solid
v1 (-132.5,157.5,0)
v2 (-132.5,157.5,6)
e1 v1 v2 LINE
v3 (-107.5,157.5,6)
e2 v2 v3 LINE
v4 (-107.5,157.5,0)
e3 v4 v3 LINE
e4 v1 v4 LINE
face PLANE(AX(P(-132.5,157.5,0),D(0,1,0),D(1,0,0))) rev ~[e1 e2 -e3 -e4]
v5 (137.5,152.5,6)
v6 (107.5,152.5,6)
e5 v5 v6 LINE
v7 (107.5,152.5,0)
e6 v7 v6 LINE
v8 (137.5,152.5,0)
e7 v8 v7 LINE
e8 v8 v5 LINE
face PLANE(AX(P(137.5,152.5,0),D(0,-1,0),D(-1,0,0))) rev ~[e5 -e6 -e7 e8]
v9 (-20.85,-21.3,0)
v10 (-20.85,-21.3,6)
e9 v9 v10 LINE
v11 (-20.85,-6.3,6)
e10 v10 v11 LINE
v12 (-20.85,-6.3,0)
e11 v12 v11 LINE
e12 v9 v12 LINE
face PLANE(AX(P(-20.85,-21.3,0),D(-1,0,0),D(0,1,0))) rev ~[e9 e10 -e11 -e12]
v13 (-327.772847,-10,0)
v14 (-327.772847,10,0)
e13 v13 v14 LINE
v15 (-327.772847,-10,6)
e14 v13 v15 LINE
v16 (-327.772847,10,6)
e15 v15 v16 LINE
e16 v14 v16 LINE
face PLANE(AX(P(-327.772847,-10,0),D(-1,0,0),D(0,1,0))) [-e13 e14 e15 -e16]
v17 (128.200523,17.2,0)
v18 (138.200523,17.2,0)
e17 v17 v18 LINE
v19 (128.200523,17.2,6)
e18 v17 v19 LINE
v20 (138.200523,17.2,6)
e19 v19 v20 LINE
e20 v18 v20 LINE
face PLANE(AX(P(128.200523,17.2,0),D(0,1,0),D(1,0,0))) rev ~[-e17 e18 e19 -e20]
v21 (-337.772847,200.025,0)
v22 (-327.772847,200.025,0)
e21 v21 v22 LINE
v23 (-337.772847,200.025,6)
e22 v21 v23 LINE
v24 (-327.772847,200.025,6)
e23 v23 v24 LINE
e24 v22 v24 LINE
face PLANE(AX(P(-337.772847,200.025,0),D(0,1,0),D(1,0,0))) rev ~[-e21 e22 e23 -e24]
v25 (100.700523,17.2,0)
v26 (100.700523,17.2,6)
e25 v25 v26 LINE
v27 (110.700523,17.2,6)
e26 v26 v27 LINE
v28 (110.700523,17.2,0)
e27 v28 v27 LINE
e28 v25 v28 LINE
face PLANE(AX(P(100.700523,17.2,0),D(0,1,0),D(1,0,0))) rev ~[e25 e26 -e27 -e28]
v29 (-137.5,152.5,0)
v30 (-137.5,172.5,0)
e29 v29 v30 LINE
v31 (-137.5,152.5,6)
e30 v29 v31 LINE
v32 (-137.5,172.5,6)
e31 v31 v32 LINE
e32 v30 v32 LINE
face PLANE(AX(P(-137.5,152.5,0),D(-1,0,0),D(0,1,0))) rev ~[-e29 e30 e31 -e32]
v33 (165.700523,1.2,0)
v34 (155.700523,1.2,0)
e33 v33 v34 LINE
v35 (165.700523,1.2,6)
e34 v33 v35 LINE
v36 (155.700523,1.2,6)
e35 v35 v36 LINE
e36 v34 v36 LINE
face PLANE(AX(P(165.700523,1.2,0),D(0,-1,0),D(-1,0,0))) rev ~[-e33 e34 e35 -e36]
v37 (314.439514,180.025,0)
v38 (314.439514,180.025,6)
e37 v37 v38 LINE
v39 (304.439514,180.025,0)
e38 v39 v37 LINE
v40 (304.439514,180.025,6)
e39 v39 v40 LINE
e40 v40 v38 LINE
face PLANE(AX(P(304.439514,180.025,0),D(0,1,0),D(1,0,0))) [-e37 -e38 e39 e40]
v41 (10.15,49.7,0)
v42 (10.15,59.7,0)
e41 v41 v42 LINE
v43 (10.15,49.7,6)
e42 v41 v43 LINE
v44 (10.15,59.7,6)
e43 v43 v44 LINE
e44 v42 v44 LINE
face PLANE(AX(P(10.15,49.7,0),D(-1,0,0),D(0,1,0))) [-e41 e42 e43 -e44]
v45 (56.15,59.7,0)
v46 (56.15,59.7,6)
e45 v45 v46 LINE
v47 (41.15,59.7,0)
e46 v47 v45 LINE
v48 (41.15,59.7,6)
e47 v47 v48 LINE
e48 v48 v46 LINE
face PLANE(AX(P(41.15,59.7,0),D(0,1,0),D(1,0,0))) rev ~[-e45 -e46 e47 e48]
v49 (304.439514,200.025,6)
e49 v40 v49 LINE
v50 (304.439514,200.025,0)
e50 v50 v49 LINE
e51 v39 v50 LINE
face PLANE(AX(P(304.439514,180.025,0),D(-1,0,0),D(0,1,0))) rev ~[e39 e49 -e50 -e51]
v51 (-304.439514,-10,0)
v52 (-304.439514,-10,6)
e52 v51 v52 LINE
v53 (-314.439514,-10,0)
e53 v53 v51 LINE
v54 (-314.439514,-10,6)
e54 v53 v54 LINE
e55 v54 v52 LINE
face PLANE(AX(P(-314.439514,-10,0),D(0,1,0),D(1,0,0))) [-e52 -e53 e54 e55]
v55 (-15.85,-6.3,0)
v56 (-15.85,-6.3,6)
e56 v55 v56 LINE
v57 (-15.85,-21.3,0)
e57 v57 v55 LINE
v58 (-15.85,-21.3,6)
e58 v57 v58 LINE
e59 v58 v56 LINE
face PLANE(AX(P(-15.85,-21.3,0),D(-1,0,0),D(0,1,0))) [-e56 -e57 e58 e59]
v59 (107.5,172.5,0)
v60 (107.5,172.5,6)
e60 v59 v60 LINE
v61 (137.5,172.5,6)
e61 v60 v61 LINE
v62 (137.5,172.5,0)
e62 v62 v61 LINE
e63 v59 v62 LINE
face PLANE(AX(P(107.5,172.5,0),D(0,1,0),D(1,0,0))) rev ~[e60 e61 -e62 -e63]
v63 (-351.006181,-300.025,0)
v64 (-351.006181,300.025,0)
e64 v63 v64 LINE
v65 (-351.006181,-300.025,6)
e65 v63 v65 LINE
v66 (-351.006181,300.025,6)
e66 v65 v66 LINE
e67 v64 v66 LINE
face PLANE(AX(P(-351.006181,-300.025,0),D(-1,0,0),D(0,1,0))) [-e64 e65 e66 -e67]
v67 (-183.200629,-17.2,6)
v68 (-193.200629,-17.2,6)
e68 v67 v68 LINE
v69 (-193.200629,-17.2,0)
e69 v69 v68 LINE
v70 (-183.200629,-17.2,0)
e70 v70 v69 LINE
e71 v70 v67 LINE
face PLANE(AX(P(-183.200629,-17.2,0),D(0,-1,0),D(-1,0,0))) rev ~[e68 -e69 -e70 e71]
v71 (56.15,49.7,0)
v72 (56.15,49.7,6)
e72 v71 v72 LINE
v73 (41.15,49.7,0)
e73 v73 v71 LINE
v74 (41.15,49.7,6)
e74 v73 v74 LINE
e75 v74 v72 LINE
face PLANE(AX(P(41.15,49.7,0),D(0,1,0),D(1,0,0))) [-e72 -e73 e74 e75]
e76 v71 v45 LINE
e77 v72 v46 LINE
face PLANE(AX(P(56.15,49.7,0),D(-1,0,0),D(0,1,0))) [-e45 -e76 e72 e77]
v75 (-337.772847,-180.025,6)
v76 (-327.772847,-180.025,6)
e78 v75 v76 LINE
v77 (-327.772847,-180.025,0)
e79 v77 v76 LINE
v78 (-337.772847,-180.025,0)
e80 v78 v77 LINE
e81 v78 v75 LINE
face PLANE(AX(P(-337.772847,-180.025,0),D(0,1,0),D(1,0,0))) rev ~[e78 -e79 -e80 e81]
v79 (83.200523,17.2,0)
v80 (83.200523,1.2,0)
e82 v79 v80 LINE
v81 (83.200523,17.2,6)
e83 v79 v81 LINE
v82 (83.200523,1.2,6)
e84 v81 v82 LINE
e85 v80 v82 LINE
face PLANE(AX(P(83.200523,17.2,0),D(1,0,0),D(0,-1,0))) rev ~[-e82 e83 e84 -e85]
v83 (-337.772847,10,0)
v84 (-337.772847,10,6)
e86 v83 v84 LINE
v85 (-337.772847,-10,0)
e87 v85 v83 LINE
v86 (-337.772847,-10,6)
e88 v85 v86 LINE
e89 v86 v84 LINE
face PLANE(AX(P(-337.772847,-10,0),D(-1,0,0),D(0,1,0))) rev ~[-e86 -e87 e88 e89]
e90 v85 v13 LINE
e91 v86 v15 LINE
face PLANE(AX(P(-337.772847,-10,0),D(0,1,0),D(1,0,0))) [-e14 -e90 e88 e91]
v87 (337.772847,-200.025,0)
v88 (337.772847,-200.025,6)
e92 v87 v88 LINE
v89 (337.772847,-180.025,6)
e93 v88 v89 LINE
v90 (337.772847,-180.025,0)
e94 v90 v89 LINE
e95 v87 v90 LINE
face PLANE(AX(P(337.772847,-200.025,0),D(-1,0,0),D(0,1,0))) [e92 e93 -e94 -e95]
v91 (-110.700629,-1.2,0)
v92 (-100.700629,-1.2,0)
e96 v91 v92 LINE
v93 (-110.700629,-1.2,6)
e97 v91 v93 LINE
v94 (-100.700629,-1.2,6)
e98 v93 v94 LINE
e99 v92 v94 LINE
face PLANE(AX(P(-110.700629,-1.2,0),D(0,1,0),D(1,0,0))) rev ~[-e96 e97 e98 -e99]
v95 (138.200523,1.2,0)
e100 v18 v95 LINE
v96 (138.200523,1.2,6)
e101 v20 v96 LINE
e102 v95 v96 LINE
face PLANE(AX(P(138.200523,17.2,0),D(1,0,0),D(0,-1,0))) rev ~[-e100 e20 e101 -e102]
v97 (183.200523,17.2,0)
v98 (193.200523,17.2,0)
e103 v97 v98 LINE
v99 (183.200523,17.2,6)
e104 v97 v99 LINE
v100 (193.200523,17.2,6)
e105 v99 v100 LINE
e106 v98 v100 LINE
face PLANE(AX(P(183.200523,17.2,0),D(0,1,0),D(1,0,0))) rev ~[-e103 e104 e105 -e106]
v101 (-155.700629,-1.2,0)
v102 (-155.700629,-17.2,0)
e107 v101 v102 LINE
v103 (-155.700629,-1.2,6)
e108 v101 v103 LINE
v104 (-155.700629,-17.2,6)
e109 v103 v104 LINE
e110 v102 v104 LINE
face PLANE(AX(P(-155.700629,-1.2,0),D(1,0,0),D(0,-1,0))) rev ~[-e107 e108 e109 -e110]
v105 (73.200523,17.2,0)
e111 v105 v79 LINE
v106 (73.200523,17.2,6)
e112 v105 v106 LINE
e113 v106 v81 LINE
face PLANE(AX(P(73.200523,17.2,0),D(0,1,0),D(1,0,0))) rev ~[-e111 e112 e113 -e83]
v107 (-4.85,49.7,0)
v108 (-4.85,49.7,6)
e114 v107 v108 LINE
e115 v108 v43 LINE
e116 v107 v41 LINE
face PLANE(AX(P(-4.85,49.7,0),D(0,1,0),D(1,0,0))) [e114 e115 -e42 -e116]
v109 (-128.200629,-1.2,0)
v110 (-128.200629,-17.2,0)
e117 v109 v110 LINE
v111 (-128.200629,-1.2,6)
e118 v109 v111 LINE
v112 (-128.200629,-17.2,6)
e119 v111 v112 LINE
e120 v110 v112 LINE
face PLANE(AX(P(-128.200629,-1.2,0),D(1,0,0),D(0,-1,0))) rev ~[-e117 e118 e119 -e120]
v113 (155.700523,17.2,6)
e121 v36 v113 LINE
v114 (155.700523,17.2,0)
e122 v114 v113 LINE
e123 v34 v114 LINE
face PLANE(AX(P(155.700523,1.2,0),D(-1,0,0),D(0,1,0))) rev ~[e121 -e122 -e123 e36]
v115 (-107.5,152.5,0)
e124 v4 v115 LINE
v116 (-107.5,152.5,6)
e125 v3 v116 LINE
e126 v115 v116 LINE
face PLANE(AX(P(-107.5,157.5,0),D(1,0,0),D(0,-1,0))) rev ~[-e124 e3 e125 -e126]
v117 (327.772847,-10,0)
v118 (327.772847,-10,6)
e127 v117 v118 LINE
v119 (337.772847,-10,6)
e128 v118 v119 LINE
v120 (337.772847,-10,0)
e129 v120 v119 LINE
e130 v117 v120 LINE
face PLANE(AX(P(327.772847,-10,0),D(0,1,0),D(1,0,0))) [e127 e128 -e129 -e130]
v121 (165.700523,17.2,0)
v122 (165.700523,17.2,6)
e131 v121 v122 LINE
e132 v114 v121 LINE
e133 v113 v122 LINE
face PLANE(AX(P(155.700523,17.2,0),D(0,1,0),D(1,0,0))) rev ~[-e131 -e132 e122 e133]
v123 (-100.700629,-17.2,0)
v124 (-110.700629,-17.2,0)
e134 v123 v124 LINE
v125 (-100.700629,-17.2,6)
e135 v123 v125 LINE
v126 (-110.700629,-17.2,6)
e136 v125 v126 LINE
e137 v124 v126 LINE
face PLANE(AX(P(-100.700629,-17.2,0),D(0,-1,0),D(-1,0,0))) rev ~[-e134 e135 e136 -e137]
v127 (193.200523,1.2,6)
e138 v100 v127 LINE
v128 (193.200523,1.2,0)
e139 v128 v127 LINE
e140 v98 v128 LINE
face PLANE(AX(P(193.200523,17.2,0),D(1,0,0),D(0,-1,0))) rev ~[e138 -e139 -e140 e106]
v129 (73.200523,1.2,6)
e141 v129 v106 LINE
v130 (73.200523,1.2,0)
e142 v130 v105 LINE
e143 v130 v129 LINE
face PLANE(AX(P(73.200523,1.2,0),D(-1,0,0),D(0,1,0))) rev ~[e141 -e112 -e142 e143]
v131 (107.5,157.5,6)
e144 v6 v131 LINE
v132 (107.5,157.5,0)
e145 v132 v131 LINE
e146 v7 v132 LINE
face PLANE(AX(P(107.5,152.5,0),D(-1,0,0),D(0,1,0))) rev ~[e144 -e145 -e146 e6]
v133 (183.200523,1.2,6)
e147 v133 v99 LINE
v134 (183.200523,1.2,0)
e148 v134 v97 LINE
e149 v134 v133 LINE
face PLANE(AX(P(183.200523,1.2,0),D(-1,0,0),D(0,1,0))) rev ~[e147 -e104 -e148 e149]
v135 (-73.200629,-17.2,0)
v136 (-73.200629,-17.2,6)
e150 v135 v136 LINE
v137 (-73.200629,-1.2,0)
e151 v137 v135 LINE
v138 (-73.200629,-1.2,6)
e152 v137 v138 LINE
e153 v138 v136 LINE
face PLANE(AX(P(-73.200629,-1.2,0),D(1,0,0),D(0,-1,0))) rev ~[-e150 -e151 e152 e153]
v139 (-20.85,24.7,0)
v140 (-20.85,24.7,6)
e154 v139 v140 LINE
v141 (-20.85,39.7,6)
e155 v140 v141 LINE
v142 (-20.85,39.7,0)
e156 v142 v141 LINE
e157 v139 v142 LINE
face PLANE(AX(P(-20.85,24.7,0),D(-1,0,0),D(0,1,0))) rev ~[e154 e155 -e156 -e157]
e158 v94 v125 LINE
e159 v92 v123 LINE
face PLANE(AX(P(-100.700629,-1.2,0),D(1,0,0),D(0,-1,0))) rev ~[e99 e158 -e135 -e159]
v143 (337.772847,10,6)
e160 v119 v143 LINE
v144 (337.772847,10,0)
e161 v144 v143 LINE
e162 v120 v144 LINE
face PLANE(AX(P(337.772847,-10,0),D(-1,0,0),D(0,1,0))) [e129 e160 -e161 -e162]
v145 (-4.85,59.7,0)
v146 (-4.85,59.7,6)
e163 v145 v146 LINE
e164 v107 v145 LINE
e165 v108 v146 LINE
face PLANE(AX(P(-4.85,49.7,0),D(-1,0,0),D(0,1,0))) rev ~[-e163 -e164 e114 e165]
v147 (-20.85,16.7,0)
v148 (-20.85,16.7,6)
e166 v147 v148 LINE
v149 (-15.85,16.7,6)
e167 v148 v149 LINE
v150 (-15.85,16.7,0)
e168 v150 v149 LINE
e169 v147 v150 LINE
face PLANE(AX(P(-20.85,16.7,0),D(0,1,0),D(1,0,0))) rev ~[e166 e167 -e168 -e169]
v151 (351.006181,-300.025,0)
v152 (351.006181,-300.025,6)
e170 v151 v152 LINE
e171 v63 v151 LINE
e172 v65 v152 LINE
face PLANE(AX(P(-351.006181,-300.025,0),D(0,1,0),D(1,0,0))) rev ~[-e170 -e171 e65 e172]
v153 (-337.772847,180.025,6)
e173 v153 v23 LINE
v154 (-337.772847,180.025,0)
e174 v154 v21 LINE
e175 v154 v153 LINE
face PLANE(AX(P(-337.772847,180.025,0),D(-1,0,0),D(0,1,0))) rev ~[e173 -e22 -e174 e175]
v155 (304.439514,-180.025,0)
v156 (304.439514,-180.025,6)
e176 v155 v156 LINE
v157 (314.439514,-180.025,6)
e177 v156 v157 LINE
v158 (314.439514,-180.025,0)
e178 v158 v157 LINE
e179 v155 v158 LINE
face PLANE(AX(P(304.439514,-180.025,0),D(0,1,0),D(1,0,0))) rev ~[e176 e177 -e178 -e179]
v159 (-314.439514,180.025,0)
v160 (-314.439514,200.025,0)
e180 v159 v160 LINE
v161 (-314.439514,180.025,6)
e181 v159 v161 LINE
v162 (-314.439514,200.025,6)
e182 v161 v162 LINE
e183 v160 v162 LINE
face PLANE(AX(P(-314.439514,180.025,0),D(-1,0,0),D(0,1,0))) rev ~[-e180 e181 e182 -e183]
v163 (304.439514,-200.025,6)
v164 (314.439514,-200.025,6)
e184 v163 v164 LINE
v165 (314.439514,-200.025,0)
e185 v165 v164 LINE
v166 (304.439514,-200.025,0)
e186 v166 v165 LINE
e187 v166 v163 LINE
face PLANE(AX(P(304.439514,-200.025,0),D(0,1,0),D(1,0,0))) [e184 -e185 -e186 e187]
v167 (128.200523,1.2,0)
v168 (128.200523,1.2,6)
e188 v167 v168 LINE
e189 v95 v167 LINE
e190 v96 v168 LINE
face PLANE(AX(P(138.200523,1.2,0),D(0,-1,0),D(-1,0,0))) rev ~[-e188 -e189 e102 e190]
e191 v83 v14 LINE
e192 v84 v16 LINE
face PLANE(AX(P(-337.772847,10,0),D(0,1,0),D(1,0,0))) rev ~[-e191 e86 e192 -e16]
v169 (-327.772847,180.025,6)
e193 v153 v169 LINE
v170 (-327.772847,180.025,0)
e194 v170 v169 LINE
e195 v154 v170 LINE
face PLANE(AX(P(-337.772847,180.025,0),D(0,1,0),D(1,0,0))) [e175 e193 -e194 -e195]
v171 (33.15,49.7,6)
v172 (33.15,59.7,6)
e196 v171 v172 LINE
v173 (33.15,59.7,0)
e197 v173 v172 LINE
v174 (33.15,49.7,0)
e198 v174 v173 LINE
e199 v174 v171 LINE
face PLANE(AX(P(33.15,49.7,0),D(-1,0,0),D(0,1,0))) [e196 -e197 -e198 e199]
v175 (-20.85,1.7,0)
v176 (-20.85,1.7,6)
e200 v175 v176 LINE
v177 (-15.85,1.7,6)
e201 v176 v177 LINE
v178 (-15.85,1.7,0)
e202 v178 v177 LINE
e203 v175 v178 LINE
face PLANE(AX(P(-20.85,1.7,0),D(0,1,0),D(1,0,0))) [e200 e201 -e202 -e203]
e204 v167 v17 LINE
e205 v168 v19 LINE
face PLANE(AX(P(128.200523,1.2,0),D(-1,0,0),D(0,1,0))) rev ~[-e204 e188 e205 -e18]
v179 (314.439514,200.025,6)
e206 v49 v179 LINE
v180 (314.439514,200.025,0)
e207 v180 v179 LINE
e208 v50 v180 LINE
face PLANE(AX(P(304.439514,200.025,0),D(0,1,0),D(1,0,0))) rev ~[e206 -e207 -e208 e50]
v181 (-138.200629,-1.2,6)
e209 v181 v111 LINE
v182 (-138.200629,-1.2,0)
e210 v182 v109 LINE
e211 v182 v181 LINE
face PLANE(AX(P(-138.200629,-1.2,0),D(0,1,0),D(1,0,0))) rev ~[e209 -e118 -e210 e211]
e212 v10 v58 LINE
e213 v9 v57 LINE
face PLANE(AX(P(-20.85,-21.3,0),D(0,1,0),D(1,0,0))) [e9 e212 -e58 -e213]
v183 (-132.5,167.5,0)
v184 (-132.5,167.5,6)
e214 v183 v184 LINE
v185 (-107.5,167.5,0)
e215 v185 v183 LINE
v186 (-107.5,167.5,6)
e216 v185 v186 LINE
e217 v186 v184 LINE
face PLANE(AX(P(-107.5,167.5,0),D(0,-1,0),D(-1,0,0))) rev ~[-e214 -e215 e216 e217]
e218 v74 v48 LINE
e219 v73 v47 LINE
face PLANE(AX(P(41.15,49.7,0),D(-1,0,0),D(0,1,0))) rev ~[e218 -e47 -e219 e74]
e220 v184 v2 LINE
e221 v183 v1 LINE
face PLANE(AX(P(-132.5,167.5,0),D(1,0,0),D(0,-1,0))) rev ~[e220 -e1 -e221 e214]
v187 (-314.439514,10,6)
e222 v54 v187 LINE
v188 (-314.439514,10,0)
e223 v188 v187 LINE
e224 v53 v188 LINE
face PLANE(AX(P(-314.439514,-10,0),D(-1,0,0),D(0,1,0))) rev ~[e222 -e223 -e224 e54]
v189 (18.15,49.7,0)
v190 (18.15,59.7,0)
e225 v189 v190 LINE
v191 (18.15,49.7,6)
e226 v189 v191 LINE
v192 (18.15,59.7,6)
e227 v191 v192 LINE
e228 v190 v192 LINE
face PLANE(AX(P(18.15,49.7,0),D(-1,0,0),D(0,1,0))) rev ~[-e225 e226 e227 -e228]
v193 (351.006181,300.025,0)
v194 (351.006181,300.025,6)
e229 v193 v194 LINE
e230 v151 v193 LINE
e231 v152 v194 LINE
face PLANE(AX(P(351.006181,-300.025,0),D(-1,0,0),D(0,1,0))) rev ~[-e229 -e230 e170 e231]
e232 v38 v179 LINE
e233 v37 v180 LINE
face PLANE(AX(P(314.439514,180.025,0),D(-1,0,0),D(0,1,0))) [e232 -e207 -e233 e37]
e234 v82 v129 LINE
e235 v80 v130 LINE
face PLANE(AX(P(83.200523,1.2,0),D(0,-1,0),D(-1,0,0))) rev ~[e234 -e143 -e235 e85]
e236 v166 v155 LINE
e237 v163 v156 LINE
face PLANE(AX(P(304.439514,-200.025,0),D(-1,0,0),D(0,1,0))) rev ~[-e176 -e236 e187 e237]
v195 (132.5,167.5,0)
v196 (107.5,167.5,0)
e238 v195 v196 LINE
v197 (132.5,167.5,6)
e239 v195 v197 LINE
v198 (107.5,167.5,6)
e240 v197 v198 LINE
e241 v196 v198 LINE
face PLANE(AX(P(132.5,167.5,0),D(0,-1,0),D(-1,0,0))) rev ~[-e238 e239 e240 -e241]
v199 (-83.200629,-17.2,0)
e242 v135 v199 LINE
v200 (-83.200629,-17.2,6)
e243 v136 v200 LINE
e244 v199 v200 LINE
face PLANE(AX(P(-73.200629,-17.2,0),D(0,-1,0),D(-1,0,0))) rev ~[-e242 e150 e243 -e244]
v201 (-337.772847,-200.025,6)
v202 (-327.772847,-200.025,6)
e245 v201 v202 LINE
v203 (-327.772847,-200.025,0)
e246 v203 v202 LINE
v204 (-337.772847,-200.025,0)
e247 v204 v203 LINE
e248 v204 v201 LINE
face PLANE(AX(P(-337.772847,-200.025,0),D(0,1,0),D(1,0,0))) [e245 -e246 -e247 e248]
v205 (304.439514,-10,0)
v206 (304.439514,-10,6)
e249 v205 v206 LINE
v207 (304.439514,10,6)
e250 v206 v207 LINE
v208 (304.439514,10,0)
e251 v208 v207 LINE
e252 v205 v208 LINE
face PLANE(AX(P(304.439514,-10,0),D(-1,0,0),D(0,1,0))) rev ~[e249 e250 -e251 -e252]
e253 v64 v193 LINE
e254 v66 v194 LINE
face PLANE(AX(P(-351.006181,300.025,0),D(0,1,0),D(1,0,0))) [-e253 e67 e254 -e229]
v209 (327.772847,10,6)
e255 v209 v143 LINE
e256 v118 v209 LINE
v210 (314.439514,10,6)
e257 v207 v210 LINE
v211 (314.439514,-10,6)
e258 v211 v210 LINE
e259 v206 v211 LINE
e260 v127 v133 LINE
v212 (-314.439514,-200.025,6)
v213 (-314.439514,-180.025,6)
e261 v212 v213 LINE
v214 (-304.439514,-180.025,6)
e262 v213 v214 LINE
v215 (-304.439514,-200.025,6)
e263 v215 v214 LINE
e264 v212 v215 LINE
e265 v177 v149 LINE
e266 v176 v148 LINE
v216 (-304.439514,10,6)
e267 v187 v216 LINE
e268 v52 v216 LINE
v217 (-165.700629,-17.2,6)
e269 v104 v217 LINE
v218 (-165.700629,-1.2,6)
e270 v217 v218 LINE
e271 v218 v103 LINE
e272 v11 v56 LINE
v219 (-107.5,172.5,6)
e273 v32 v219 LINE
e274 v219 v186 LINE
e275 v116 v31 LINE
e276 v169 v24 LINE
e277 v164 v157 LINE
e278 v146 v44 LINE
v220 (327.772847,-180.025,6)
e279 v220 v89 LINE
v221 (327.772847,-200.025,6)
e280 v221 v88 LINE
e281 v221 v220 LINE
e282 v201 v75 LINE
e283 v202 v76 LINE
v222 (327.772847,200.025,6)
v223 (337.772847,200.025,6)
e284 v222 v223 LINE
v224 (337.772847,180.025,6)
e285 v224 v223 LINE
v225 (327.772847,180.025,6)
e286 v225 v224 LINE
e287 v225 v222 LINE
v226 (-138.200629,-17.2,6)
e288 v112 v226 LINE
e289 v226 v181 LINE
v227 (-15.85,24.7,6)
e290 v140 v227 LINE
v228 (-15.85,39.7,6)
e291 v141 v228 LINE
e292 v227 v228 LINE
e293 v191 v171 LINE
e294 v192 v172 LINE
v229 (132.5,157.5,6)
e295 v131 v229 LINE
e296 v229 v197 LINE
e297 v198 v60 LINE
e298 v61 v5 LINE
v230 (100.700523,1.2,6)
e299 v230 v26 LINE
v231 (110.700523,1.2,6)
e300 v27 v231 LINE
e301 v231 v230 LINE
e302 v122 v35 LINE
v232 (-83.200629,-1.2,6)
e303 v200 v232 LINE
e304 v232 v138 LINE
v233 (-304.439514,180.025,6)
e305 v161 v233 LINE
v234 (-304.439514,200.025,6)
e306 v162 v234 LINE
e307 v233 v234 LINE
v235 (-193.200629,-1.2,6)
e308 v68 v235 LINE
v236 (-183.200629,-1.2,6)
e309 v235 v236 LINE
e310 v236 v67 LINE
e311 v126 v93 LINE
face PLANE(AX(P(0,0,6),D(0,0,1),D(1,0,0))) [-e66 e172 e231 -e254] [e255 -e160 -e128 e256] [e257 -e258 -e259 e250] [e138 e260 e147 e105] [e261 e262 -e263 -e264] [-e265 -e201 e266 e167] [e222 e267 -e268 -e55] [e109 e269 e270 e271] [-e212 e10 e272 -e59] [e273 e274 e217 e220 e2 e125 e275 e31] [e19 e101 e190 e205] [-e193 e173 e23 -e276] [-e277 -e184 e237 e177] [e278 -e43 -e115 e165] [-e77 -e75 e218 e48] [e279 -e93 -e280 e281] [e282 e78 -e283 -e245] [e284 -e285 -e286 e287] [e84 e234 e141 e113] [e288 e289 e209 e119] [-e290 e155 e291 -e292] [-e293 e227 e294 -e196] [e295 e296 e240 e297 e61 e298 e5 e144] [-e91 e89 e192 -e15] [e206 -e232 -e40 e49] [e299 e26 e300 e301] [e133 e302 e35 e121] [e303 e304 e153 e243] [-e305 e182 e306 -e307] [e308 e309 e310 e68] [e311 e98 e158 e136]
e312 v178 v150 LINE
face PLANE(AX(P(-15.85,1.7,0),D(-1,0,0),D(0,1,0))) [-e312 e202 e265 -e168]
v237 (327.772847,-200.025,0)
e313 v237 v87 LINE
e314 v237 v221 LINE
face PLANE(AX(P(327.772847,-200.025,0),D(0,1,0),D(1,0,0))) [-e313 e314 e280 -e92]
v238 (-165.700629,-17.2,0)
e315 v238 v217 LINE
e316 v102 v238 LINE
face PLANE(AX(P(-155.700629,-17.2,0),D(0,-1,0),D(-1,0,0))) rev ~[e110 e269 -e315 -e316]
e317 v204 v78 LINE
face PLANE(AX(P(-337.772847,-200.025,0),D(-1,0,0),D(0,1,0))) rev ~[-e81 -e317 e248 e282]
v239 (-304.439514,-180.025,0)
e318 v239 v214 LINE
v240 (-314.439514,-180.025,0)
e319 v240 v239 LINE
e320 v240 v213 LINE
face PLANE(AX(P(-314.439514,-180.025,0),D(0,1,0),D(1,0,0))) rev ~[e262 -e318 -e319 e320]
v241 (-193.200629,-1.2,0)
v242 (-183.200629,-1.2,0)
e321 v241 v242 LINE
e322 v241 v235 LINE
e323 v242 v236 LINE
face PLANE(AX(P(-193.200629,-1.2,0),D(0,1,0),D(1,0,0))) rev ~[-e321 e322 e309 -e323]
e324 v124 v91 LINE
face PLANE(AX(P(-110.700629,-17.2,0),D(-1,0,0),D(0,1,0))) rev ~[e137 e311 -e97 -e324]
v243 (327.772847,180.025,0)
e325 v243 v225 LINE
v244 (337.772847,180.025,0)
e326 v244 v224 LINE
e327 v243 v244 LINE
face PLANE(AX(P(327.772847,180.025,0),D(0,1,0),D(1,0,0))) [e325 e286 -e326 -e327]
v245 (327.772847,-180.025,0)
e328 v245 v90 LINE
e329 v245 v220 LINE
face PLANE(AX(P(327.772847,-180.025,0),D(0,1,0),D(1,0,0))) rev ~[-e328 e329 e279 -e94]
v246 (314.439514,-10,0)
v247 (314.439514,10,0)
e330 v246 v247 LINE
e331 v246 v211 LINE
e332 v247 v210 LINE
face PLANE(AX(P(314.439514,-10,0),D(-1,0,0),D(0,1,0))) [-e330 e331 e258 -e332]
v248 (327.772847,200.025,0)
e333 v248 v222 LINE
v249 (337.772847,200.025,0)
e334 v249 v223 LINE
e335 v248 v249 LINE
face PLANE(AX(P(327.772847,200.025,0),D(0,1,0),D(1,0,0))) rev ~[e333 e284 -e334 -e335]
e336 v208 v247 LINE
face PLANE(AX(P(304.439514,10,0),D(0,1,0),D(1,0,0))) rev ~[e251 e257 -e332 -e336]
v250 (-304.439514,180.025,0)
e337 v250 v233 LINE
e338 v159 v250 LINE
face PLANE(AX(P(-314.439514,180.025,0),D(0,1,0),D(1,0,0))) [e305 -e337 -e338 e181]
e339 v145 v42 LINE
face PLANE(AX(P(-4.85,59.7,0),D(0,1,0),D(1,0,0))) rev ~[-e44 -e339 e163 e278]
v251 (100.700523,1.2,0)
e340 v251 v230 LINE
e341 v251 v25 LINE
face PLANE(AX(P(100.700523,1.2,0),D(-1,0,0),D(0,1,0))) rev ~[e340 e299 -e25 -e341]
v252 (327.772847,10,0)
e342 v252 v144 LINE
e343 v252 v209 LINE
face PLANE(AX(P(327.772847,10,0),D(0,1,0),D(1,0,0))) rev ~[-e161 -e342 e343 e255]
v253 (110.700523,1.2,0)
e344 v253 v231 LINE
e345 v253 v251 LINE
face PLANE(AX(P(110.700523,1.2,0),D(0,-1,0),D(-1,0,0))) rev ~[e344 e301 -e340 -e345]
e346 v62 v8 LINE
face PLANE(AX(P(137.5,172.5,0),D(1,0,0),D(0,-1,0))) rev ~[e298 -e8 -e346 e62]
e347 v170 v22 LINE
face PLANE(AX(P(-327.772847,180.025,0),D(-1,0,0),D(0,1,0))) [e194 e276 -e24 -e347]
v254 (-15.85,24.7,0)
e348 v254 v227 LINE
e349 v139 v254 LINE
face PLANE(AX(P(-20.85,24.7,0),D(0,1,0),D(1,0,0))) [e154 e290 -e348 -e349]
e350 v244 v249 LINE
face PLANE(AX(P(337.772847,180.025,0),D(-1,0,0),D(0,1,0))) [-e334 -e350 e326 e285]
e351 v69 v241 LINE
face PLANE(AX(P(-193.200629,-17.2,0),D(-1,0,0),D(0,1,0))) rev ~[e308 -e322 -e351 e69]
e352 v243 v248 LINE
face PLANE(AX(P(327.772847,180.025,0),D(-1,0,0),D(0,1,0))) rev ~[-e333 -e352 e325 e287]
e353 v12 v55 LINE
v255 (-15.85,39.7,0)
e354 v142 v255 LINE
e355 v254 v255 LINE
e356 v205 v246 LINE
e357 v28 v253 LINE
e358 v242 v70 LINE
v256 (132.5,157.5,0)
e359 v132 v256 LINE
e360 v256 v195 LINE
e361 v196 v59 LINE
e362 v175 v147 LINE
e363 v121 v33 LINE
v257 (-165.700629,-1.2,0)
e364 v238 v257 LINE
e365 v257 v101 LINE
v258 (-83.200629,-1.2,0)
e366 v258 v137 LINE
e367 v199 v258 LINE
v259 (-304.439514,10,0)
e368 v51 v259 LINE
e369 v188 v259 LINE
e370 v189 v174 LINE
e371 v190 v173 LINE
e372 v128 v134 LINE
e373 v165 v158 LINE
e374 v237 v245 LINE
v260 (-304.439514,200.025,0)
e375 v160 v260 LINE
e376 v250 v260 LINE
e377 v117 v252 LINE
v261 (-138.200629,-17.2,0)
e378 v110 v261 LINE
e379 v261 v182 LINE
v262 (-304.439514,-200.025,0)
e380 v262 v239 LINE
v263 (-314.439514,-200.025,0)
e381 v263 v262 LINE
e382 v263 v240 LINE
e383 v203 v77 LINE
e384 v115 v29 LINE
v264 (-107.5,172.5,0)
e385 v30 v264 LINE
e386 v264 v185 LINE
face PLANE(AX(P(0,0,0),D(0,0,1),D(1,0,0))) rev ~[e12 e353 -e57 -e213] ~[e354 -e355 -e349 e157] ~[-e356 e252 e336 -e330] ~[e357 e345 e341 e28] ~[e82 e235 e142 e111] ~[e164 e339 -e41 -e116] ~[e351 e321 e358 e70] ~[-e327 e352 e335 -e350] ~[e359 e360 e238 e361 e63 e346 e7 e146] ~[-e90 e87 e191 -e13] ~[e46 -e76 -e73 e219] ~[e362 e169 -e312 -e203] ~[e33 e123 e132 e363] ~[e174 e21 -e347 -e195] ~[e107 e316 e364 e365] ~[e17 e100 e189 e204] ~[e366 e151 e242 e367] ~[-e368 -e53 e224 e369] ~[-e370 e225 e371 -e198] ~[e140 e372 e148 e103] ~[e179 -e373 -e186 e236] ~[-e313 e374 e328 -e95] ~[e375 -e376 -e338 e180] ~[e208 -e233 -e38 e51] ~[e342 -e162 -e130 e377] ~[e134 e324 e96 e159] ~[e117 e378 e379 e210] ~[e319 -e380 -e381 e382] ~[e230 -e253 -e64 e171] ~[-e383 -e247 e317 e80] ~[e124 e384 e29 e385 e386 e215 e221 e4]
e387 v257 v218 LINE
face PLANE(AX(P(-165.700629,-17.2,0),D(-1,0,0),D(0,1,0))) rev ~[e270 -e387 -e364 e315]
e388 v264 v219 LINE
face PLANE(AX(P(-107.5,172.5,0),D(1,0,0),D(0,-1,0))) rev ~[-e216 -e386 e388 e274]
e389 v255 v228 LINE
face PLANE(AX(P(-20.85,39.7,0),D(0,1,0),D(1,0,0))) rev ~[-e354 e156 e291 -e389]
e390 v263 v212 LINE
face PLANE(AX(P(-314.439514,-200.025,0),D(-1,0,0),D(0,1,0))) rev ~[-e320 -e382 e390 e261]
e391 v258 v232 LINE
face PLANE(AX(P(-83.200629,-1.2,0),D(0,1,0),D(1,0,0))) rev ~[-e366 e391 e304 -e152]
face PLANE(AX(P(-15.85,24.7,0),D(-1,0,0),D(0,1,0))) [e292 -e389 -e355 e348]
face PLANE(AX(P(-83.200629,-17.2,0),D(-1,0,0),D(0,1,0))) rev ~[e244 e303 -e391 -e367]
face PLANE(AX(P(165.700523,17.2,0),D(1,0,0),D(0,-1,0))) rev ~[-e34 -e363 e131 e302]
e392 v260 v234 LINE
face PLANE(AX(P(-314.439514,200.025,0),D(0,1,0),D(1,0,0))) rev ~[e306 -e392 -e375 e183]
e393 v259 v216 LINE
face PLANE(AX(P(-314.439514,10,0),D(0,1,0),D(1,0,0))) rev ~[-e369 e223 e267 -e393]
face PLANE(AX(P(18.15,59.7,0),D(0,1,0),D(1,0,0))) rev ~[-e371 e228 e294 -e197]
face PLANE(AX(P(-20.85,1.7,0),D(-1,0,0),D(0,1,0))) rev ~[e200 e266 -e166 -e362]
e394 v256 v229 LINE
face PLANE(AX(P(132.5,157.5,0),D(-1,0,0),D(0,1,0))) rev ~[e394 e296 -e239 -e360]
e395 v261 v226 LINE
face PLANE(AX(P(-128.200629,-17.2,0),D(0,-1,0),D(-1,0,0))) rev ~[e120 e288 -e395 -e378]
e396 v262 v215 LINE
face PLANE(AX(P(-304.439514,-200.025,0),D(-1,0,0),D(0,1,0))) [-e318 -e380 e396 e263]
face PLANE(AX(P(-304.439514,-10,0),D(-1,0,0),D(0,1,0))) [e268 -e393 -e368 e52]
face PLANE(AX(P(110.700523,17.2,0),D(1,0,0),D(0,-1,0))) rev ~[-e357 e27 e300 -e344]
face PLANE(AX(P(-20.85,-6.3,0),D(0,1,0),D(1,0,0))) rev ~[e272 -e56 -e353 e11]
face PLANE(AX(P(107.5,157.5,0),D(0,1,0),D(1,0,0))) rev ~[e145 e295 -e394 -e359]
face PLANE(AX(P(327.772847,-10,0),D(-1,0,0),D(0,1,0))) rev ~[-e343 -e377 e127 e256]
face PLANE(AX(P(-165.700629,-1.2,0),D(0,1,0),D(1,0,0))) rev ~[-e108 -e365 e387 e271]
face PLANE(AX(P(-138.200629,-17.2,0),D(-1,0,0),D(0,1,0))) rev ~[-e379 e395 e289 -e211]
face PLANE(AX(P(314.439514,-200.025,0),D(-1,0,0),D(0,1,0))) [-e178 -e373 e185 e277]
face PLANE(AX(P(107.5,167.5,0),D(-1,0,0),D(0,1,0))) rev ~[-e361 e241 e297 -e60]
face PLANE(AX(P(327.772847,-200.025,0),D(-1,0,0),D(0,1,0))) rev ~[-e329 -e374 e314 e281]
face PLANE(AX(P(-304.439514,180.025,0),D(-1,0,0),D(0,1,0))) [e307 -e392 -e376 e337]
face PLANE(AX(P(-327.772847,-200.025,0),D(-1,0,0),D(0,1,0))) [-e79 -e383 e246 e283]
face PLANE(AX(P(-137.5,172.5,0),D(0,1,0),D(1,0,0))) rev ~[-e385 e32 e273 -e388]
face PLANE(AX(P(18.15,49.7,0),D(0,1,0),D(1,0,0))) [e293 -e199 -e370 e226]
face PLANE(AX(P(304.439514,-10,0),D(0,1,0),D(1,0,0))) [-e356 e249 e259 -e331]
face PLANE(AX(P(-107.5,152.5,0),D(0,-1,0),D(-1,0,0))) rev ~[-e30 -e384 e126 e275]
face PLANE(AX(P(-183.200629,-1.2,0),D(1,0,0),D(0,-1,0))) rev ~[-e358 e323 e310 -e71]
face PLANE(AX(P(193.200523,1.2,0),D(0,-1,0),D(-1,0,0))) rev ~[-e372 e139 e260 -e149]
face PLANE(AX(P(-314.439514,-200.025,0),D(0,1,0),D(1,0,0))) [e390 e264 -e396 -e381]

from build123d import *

# Parameters (mm, degrees)
SKETCH1_W           = 702.0123615
SKETCH1_H           = 600.05
SKETCH1_W_2         = 10
SKETCH1_H_2         = 20
SKETCH1_W_3         = 5
SKETCH1_H_3         = 15
SKETCH1_W_4         = 15
SKETCH1_H_4         = 10
BOSS_EXTRUDE2_DEPTH = 6


with BuildPart() as part:
    # Sketch1 → Boss-Extrude2 (new body)
    with BuildSketch(Plane.XY):
        Rectangle(SKETCH1_W, SKETCH1_H)
        with Locations((-332.772847417, -190.025)):
            Rectangle(SKETCH1_W_2, SKETCH1_H_2, mode=Mode.SUBTRACT)
        with Locations((-309.439514083, -190.025)):
            Rectangle(SKETCH1_W_2, SKETCH1_H_2, mode=Mode.SUBTRACT)
        Polygon((-193.20062859, -9.2), (-193.20062859, -1.2), (-183.20062859, -1.2), (-183.20062859, -9.2), (-183.20062859, -17.2), (-193.20062859, -17.2), align=None, mode=Mode.SUBTRACT)
        Polygon((-155.70062859, -1.2), (-155.70062859, -9.2), (-155.70062859, -17.2), (-165.70062859, -17.2), (-165.70062859, -9.2), (-165.70062859, -1.2), align=None, mode=Mode.SUBTRACT)
        Polygon((-128.20062859, -1.2), (-128.20062859, -9.2), (-128.20062859, -17.2), (-138.20062859, -17.2), (-138.20062859, -9.2), (-138.20062859, -1.2), align=None, mode=Mode.SUBTRACT)
        Polygon((-100.70062859, -1.2), (-100.70062859, -9.2), (-100.70062859, -17.2), (-110.70062859, -17.2), (-110.70062859, -9.2), (-110.70062859, -1.2), align=None, mode=Mode.SUBTRACT)
        Polygon((-73.20062859, -1.2), (-73.20062859, -9.2), (-73.20062859, -17.2), (-83.20062859, -17.2), (-83.20062859, -9.2), (-83.20062859, -1.2), align=None, mode=Mode.SUBTRACT)
        with Locations((-18.35, -13.8)):
            Rectangle(SKETCH1_W_3, SKETCH1_H_3, mode=Mode.SUBTRACT)
        with Locations((309.439514083, -190.025)):
            Rectangle(SKETCH1_W_2, SKETCH1_H_2, mode=Mode.SUBTRACT)
        with Locations((332.772847417, -190.025)):
            Rectangle(SKETCH1_W_2, SKETCH1_H_2, mode=Mode.SUBTRACT)
        with Locations((-332.772847417, 0)):
            Rectangle(SKETCH1_W_2, SKETCH1_H_2, mode=Mode.SUBTRACT)
        with Locations((-309.439514083, 0)):
            Rectangle(SKETCH1_W_2, SKETCH1_H_2, mode=Mode.SUBTRACT)
        with Locations((-18.35, 9.2)):
            Rectangle(SKETCH1_W_3, SKETCH1_H_3, mode=Mode.SUBTRACT)
        with Locations((-18.35, 32.2)):
            Rectangle(SKETCH1_W_3, SKETCH1_H_3, mode=Mode.SUBTRACT)
        with Locations((-332.772847417, 190.025)):
            Rectangle(SKETCH1_W_2, SKETCH1_H_2, mode=Mode.SUBTRACT)
        with Locations((-309.439514083, 190.025)):
            Rectangle(SKETCH1_W_2, SKETCH1_H_2, mode=Mode.SUBTRACT)
        Polygon((-132.5, 167.5), (-132.5, 157.5), (-107.5, 157.5), (-107.5, 152.5), (-132.5, 152.5), (-137.5, 152.5), (-137.5, 172.5), (-132.5, 172.5), (-107.5, 172.5), (-107.5, 167.5), align=None, mode=Mode.SUBTRACT)
        Polygon((83.20052308, 17.2), (83.20052308, 9.2), (83.20052308, 1.2), (73.20052308, 1.2), (73.20052308, 9.2), (73.20052308, 17.2), align=None, mode=Mode.SUBTRACT)
        with Locations((2.65, 54.7)):
            Rectangle(SKETCH1_W_4, SKETCH1_H_4, mode=Mode.SUBTRACT)
        with Locations((25.65, 54.7)):
            Rectangle(SKETCH1_W_4, SKETCH1_H_4, mode=Mode.SUBTRACT)
        with Locations((48.65, 54.7)):
            Rectangle(SKETCH1_W_4, SKETCH1_H_4, mode=Mode.SUBTRACT)
        Polygon((110.70052308, 17.2), (110.70052308, 9.2), (110.70052308, 1.2), (100.70052308, 1.2), (100.70052308, 9.2), (100.70052308, 17.2), align=None, mode=Mode.SUBTRACT)
        Polygon((138.20052308, 17.2), (138.20052308, 9.2), (138.20052308, 1.2), (128.20052308, 1.2), (128.20052308, 9.2), (128.20052308, 17.2), align=None, mode=Mode.SUBTRACT)
        Polygon((165.70052308, 17.2), (165.70052308, 9.2), (165.70052308, 1.2), (155.70052308, 1.2), (155.70052308, 9.2), (155.70052308, 17.2), align=None, mode=Mode.SUBTRACT)
        Polygon((193.20052308, 17.2), (193.20052308, 9.2), (193.20052308, 1.2), (183.20052308, 1.2), (183.20052308, 9.2), (183.20052308, 17.2), align=None, mode=Mode.SUBTRACT)
        with Locations((309.439514083, 0)):
            Rectangle(SKETCH1_W_2, SKETCH1_H_2, mode=Mode.SUBTRACT)
        with Locations((332.772847417, 0)):
            Rectangle(SKETCH1_W_2, SKETCH1_H_2, mode=Mode.SUBTRACT)
        Polygon((107.5, 167.5), (107.5, 172.5), (132.5, 172.5), (137.5, 172.5), (137.5, 152.5), (132.5, 152.5), (107.5, 152.5), (107.5, 157.5), (132.5, 157.5), (132.5, 167.5), align=None, mode=Mode.SUBTRACT)
        with Locations((309.439514083, 190.025)):
            Rectangle(SKETCH1_W_2, SKETCH1_H_2, mode=Mode.SUBTRACT)
        with Locations((332.772847417, 190.025)):
            Rectangle(SKETCH1_W_2, SKETCH1_H_2, mode=Mode.SUBTRACT)
    extrude(amount=BOSS_EXTRUDE2_DEPTH)


solid = part.part
